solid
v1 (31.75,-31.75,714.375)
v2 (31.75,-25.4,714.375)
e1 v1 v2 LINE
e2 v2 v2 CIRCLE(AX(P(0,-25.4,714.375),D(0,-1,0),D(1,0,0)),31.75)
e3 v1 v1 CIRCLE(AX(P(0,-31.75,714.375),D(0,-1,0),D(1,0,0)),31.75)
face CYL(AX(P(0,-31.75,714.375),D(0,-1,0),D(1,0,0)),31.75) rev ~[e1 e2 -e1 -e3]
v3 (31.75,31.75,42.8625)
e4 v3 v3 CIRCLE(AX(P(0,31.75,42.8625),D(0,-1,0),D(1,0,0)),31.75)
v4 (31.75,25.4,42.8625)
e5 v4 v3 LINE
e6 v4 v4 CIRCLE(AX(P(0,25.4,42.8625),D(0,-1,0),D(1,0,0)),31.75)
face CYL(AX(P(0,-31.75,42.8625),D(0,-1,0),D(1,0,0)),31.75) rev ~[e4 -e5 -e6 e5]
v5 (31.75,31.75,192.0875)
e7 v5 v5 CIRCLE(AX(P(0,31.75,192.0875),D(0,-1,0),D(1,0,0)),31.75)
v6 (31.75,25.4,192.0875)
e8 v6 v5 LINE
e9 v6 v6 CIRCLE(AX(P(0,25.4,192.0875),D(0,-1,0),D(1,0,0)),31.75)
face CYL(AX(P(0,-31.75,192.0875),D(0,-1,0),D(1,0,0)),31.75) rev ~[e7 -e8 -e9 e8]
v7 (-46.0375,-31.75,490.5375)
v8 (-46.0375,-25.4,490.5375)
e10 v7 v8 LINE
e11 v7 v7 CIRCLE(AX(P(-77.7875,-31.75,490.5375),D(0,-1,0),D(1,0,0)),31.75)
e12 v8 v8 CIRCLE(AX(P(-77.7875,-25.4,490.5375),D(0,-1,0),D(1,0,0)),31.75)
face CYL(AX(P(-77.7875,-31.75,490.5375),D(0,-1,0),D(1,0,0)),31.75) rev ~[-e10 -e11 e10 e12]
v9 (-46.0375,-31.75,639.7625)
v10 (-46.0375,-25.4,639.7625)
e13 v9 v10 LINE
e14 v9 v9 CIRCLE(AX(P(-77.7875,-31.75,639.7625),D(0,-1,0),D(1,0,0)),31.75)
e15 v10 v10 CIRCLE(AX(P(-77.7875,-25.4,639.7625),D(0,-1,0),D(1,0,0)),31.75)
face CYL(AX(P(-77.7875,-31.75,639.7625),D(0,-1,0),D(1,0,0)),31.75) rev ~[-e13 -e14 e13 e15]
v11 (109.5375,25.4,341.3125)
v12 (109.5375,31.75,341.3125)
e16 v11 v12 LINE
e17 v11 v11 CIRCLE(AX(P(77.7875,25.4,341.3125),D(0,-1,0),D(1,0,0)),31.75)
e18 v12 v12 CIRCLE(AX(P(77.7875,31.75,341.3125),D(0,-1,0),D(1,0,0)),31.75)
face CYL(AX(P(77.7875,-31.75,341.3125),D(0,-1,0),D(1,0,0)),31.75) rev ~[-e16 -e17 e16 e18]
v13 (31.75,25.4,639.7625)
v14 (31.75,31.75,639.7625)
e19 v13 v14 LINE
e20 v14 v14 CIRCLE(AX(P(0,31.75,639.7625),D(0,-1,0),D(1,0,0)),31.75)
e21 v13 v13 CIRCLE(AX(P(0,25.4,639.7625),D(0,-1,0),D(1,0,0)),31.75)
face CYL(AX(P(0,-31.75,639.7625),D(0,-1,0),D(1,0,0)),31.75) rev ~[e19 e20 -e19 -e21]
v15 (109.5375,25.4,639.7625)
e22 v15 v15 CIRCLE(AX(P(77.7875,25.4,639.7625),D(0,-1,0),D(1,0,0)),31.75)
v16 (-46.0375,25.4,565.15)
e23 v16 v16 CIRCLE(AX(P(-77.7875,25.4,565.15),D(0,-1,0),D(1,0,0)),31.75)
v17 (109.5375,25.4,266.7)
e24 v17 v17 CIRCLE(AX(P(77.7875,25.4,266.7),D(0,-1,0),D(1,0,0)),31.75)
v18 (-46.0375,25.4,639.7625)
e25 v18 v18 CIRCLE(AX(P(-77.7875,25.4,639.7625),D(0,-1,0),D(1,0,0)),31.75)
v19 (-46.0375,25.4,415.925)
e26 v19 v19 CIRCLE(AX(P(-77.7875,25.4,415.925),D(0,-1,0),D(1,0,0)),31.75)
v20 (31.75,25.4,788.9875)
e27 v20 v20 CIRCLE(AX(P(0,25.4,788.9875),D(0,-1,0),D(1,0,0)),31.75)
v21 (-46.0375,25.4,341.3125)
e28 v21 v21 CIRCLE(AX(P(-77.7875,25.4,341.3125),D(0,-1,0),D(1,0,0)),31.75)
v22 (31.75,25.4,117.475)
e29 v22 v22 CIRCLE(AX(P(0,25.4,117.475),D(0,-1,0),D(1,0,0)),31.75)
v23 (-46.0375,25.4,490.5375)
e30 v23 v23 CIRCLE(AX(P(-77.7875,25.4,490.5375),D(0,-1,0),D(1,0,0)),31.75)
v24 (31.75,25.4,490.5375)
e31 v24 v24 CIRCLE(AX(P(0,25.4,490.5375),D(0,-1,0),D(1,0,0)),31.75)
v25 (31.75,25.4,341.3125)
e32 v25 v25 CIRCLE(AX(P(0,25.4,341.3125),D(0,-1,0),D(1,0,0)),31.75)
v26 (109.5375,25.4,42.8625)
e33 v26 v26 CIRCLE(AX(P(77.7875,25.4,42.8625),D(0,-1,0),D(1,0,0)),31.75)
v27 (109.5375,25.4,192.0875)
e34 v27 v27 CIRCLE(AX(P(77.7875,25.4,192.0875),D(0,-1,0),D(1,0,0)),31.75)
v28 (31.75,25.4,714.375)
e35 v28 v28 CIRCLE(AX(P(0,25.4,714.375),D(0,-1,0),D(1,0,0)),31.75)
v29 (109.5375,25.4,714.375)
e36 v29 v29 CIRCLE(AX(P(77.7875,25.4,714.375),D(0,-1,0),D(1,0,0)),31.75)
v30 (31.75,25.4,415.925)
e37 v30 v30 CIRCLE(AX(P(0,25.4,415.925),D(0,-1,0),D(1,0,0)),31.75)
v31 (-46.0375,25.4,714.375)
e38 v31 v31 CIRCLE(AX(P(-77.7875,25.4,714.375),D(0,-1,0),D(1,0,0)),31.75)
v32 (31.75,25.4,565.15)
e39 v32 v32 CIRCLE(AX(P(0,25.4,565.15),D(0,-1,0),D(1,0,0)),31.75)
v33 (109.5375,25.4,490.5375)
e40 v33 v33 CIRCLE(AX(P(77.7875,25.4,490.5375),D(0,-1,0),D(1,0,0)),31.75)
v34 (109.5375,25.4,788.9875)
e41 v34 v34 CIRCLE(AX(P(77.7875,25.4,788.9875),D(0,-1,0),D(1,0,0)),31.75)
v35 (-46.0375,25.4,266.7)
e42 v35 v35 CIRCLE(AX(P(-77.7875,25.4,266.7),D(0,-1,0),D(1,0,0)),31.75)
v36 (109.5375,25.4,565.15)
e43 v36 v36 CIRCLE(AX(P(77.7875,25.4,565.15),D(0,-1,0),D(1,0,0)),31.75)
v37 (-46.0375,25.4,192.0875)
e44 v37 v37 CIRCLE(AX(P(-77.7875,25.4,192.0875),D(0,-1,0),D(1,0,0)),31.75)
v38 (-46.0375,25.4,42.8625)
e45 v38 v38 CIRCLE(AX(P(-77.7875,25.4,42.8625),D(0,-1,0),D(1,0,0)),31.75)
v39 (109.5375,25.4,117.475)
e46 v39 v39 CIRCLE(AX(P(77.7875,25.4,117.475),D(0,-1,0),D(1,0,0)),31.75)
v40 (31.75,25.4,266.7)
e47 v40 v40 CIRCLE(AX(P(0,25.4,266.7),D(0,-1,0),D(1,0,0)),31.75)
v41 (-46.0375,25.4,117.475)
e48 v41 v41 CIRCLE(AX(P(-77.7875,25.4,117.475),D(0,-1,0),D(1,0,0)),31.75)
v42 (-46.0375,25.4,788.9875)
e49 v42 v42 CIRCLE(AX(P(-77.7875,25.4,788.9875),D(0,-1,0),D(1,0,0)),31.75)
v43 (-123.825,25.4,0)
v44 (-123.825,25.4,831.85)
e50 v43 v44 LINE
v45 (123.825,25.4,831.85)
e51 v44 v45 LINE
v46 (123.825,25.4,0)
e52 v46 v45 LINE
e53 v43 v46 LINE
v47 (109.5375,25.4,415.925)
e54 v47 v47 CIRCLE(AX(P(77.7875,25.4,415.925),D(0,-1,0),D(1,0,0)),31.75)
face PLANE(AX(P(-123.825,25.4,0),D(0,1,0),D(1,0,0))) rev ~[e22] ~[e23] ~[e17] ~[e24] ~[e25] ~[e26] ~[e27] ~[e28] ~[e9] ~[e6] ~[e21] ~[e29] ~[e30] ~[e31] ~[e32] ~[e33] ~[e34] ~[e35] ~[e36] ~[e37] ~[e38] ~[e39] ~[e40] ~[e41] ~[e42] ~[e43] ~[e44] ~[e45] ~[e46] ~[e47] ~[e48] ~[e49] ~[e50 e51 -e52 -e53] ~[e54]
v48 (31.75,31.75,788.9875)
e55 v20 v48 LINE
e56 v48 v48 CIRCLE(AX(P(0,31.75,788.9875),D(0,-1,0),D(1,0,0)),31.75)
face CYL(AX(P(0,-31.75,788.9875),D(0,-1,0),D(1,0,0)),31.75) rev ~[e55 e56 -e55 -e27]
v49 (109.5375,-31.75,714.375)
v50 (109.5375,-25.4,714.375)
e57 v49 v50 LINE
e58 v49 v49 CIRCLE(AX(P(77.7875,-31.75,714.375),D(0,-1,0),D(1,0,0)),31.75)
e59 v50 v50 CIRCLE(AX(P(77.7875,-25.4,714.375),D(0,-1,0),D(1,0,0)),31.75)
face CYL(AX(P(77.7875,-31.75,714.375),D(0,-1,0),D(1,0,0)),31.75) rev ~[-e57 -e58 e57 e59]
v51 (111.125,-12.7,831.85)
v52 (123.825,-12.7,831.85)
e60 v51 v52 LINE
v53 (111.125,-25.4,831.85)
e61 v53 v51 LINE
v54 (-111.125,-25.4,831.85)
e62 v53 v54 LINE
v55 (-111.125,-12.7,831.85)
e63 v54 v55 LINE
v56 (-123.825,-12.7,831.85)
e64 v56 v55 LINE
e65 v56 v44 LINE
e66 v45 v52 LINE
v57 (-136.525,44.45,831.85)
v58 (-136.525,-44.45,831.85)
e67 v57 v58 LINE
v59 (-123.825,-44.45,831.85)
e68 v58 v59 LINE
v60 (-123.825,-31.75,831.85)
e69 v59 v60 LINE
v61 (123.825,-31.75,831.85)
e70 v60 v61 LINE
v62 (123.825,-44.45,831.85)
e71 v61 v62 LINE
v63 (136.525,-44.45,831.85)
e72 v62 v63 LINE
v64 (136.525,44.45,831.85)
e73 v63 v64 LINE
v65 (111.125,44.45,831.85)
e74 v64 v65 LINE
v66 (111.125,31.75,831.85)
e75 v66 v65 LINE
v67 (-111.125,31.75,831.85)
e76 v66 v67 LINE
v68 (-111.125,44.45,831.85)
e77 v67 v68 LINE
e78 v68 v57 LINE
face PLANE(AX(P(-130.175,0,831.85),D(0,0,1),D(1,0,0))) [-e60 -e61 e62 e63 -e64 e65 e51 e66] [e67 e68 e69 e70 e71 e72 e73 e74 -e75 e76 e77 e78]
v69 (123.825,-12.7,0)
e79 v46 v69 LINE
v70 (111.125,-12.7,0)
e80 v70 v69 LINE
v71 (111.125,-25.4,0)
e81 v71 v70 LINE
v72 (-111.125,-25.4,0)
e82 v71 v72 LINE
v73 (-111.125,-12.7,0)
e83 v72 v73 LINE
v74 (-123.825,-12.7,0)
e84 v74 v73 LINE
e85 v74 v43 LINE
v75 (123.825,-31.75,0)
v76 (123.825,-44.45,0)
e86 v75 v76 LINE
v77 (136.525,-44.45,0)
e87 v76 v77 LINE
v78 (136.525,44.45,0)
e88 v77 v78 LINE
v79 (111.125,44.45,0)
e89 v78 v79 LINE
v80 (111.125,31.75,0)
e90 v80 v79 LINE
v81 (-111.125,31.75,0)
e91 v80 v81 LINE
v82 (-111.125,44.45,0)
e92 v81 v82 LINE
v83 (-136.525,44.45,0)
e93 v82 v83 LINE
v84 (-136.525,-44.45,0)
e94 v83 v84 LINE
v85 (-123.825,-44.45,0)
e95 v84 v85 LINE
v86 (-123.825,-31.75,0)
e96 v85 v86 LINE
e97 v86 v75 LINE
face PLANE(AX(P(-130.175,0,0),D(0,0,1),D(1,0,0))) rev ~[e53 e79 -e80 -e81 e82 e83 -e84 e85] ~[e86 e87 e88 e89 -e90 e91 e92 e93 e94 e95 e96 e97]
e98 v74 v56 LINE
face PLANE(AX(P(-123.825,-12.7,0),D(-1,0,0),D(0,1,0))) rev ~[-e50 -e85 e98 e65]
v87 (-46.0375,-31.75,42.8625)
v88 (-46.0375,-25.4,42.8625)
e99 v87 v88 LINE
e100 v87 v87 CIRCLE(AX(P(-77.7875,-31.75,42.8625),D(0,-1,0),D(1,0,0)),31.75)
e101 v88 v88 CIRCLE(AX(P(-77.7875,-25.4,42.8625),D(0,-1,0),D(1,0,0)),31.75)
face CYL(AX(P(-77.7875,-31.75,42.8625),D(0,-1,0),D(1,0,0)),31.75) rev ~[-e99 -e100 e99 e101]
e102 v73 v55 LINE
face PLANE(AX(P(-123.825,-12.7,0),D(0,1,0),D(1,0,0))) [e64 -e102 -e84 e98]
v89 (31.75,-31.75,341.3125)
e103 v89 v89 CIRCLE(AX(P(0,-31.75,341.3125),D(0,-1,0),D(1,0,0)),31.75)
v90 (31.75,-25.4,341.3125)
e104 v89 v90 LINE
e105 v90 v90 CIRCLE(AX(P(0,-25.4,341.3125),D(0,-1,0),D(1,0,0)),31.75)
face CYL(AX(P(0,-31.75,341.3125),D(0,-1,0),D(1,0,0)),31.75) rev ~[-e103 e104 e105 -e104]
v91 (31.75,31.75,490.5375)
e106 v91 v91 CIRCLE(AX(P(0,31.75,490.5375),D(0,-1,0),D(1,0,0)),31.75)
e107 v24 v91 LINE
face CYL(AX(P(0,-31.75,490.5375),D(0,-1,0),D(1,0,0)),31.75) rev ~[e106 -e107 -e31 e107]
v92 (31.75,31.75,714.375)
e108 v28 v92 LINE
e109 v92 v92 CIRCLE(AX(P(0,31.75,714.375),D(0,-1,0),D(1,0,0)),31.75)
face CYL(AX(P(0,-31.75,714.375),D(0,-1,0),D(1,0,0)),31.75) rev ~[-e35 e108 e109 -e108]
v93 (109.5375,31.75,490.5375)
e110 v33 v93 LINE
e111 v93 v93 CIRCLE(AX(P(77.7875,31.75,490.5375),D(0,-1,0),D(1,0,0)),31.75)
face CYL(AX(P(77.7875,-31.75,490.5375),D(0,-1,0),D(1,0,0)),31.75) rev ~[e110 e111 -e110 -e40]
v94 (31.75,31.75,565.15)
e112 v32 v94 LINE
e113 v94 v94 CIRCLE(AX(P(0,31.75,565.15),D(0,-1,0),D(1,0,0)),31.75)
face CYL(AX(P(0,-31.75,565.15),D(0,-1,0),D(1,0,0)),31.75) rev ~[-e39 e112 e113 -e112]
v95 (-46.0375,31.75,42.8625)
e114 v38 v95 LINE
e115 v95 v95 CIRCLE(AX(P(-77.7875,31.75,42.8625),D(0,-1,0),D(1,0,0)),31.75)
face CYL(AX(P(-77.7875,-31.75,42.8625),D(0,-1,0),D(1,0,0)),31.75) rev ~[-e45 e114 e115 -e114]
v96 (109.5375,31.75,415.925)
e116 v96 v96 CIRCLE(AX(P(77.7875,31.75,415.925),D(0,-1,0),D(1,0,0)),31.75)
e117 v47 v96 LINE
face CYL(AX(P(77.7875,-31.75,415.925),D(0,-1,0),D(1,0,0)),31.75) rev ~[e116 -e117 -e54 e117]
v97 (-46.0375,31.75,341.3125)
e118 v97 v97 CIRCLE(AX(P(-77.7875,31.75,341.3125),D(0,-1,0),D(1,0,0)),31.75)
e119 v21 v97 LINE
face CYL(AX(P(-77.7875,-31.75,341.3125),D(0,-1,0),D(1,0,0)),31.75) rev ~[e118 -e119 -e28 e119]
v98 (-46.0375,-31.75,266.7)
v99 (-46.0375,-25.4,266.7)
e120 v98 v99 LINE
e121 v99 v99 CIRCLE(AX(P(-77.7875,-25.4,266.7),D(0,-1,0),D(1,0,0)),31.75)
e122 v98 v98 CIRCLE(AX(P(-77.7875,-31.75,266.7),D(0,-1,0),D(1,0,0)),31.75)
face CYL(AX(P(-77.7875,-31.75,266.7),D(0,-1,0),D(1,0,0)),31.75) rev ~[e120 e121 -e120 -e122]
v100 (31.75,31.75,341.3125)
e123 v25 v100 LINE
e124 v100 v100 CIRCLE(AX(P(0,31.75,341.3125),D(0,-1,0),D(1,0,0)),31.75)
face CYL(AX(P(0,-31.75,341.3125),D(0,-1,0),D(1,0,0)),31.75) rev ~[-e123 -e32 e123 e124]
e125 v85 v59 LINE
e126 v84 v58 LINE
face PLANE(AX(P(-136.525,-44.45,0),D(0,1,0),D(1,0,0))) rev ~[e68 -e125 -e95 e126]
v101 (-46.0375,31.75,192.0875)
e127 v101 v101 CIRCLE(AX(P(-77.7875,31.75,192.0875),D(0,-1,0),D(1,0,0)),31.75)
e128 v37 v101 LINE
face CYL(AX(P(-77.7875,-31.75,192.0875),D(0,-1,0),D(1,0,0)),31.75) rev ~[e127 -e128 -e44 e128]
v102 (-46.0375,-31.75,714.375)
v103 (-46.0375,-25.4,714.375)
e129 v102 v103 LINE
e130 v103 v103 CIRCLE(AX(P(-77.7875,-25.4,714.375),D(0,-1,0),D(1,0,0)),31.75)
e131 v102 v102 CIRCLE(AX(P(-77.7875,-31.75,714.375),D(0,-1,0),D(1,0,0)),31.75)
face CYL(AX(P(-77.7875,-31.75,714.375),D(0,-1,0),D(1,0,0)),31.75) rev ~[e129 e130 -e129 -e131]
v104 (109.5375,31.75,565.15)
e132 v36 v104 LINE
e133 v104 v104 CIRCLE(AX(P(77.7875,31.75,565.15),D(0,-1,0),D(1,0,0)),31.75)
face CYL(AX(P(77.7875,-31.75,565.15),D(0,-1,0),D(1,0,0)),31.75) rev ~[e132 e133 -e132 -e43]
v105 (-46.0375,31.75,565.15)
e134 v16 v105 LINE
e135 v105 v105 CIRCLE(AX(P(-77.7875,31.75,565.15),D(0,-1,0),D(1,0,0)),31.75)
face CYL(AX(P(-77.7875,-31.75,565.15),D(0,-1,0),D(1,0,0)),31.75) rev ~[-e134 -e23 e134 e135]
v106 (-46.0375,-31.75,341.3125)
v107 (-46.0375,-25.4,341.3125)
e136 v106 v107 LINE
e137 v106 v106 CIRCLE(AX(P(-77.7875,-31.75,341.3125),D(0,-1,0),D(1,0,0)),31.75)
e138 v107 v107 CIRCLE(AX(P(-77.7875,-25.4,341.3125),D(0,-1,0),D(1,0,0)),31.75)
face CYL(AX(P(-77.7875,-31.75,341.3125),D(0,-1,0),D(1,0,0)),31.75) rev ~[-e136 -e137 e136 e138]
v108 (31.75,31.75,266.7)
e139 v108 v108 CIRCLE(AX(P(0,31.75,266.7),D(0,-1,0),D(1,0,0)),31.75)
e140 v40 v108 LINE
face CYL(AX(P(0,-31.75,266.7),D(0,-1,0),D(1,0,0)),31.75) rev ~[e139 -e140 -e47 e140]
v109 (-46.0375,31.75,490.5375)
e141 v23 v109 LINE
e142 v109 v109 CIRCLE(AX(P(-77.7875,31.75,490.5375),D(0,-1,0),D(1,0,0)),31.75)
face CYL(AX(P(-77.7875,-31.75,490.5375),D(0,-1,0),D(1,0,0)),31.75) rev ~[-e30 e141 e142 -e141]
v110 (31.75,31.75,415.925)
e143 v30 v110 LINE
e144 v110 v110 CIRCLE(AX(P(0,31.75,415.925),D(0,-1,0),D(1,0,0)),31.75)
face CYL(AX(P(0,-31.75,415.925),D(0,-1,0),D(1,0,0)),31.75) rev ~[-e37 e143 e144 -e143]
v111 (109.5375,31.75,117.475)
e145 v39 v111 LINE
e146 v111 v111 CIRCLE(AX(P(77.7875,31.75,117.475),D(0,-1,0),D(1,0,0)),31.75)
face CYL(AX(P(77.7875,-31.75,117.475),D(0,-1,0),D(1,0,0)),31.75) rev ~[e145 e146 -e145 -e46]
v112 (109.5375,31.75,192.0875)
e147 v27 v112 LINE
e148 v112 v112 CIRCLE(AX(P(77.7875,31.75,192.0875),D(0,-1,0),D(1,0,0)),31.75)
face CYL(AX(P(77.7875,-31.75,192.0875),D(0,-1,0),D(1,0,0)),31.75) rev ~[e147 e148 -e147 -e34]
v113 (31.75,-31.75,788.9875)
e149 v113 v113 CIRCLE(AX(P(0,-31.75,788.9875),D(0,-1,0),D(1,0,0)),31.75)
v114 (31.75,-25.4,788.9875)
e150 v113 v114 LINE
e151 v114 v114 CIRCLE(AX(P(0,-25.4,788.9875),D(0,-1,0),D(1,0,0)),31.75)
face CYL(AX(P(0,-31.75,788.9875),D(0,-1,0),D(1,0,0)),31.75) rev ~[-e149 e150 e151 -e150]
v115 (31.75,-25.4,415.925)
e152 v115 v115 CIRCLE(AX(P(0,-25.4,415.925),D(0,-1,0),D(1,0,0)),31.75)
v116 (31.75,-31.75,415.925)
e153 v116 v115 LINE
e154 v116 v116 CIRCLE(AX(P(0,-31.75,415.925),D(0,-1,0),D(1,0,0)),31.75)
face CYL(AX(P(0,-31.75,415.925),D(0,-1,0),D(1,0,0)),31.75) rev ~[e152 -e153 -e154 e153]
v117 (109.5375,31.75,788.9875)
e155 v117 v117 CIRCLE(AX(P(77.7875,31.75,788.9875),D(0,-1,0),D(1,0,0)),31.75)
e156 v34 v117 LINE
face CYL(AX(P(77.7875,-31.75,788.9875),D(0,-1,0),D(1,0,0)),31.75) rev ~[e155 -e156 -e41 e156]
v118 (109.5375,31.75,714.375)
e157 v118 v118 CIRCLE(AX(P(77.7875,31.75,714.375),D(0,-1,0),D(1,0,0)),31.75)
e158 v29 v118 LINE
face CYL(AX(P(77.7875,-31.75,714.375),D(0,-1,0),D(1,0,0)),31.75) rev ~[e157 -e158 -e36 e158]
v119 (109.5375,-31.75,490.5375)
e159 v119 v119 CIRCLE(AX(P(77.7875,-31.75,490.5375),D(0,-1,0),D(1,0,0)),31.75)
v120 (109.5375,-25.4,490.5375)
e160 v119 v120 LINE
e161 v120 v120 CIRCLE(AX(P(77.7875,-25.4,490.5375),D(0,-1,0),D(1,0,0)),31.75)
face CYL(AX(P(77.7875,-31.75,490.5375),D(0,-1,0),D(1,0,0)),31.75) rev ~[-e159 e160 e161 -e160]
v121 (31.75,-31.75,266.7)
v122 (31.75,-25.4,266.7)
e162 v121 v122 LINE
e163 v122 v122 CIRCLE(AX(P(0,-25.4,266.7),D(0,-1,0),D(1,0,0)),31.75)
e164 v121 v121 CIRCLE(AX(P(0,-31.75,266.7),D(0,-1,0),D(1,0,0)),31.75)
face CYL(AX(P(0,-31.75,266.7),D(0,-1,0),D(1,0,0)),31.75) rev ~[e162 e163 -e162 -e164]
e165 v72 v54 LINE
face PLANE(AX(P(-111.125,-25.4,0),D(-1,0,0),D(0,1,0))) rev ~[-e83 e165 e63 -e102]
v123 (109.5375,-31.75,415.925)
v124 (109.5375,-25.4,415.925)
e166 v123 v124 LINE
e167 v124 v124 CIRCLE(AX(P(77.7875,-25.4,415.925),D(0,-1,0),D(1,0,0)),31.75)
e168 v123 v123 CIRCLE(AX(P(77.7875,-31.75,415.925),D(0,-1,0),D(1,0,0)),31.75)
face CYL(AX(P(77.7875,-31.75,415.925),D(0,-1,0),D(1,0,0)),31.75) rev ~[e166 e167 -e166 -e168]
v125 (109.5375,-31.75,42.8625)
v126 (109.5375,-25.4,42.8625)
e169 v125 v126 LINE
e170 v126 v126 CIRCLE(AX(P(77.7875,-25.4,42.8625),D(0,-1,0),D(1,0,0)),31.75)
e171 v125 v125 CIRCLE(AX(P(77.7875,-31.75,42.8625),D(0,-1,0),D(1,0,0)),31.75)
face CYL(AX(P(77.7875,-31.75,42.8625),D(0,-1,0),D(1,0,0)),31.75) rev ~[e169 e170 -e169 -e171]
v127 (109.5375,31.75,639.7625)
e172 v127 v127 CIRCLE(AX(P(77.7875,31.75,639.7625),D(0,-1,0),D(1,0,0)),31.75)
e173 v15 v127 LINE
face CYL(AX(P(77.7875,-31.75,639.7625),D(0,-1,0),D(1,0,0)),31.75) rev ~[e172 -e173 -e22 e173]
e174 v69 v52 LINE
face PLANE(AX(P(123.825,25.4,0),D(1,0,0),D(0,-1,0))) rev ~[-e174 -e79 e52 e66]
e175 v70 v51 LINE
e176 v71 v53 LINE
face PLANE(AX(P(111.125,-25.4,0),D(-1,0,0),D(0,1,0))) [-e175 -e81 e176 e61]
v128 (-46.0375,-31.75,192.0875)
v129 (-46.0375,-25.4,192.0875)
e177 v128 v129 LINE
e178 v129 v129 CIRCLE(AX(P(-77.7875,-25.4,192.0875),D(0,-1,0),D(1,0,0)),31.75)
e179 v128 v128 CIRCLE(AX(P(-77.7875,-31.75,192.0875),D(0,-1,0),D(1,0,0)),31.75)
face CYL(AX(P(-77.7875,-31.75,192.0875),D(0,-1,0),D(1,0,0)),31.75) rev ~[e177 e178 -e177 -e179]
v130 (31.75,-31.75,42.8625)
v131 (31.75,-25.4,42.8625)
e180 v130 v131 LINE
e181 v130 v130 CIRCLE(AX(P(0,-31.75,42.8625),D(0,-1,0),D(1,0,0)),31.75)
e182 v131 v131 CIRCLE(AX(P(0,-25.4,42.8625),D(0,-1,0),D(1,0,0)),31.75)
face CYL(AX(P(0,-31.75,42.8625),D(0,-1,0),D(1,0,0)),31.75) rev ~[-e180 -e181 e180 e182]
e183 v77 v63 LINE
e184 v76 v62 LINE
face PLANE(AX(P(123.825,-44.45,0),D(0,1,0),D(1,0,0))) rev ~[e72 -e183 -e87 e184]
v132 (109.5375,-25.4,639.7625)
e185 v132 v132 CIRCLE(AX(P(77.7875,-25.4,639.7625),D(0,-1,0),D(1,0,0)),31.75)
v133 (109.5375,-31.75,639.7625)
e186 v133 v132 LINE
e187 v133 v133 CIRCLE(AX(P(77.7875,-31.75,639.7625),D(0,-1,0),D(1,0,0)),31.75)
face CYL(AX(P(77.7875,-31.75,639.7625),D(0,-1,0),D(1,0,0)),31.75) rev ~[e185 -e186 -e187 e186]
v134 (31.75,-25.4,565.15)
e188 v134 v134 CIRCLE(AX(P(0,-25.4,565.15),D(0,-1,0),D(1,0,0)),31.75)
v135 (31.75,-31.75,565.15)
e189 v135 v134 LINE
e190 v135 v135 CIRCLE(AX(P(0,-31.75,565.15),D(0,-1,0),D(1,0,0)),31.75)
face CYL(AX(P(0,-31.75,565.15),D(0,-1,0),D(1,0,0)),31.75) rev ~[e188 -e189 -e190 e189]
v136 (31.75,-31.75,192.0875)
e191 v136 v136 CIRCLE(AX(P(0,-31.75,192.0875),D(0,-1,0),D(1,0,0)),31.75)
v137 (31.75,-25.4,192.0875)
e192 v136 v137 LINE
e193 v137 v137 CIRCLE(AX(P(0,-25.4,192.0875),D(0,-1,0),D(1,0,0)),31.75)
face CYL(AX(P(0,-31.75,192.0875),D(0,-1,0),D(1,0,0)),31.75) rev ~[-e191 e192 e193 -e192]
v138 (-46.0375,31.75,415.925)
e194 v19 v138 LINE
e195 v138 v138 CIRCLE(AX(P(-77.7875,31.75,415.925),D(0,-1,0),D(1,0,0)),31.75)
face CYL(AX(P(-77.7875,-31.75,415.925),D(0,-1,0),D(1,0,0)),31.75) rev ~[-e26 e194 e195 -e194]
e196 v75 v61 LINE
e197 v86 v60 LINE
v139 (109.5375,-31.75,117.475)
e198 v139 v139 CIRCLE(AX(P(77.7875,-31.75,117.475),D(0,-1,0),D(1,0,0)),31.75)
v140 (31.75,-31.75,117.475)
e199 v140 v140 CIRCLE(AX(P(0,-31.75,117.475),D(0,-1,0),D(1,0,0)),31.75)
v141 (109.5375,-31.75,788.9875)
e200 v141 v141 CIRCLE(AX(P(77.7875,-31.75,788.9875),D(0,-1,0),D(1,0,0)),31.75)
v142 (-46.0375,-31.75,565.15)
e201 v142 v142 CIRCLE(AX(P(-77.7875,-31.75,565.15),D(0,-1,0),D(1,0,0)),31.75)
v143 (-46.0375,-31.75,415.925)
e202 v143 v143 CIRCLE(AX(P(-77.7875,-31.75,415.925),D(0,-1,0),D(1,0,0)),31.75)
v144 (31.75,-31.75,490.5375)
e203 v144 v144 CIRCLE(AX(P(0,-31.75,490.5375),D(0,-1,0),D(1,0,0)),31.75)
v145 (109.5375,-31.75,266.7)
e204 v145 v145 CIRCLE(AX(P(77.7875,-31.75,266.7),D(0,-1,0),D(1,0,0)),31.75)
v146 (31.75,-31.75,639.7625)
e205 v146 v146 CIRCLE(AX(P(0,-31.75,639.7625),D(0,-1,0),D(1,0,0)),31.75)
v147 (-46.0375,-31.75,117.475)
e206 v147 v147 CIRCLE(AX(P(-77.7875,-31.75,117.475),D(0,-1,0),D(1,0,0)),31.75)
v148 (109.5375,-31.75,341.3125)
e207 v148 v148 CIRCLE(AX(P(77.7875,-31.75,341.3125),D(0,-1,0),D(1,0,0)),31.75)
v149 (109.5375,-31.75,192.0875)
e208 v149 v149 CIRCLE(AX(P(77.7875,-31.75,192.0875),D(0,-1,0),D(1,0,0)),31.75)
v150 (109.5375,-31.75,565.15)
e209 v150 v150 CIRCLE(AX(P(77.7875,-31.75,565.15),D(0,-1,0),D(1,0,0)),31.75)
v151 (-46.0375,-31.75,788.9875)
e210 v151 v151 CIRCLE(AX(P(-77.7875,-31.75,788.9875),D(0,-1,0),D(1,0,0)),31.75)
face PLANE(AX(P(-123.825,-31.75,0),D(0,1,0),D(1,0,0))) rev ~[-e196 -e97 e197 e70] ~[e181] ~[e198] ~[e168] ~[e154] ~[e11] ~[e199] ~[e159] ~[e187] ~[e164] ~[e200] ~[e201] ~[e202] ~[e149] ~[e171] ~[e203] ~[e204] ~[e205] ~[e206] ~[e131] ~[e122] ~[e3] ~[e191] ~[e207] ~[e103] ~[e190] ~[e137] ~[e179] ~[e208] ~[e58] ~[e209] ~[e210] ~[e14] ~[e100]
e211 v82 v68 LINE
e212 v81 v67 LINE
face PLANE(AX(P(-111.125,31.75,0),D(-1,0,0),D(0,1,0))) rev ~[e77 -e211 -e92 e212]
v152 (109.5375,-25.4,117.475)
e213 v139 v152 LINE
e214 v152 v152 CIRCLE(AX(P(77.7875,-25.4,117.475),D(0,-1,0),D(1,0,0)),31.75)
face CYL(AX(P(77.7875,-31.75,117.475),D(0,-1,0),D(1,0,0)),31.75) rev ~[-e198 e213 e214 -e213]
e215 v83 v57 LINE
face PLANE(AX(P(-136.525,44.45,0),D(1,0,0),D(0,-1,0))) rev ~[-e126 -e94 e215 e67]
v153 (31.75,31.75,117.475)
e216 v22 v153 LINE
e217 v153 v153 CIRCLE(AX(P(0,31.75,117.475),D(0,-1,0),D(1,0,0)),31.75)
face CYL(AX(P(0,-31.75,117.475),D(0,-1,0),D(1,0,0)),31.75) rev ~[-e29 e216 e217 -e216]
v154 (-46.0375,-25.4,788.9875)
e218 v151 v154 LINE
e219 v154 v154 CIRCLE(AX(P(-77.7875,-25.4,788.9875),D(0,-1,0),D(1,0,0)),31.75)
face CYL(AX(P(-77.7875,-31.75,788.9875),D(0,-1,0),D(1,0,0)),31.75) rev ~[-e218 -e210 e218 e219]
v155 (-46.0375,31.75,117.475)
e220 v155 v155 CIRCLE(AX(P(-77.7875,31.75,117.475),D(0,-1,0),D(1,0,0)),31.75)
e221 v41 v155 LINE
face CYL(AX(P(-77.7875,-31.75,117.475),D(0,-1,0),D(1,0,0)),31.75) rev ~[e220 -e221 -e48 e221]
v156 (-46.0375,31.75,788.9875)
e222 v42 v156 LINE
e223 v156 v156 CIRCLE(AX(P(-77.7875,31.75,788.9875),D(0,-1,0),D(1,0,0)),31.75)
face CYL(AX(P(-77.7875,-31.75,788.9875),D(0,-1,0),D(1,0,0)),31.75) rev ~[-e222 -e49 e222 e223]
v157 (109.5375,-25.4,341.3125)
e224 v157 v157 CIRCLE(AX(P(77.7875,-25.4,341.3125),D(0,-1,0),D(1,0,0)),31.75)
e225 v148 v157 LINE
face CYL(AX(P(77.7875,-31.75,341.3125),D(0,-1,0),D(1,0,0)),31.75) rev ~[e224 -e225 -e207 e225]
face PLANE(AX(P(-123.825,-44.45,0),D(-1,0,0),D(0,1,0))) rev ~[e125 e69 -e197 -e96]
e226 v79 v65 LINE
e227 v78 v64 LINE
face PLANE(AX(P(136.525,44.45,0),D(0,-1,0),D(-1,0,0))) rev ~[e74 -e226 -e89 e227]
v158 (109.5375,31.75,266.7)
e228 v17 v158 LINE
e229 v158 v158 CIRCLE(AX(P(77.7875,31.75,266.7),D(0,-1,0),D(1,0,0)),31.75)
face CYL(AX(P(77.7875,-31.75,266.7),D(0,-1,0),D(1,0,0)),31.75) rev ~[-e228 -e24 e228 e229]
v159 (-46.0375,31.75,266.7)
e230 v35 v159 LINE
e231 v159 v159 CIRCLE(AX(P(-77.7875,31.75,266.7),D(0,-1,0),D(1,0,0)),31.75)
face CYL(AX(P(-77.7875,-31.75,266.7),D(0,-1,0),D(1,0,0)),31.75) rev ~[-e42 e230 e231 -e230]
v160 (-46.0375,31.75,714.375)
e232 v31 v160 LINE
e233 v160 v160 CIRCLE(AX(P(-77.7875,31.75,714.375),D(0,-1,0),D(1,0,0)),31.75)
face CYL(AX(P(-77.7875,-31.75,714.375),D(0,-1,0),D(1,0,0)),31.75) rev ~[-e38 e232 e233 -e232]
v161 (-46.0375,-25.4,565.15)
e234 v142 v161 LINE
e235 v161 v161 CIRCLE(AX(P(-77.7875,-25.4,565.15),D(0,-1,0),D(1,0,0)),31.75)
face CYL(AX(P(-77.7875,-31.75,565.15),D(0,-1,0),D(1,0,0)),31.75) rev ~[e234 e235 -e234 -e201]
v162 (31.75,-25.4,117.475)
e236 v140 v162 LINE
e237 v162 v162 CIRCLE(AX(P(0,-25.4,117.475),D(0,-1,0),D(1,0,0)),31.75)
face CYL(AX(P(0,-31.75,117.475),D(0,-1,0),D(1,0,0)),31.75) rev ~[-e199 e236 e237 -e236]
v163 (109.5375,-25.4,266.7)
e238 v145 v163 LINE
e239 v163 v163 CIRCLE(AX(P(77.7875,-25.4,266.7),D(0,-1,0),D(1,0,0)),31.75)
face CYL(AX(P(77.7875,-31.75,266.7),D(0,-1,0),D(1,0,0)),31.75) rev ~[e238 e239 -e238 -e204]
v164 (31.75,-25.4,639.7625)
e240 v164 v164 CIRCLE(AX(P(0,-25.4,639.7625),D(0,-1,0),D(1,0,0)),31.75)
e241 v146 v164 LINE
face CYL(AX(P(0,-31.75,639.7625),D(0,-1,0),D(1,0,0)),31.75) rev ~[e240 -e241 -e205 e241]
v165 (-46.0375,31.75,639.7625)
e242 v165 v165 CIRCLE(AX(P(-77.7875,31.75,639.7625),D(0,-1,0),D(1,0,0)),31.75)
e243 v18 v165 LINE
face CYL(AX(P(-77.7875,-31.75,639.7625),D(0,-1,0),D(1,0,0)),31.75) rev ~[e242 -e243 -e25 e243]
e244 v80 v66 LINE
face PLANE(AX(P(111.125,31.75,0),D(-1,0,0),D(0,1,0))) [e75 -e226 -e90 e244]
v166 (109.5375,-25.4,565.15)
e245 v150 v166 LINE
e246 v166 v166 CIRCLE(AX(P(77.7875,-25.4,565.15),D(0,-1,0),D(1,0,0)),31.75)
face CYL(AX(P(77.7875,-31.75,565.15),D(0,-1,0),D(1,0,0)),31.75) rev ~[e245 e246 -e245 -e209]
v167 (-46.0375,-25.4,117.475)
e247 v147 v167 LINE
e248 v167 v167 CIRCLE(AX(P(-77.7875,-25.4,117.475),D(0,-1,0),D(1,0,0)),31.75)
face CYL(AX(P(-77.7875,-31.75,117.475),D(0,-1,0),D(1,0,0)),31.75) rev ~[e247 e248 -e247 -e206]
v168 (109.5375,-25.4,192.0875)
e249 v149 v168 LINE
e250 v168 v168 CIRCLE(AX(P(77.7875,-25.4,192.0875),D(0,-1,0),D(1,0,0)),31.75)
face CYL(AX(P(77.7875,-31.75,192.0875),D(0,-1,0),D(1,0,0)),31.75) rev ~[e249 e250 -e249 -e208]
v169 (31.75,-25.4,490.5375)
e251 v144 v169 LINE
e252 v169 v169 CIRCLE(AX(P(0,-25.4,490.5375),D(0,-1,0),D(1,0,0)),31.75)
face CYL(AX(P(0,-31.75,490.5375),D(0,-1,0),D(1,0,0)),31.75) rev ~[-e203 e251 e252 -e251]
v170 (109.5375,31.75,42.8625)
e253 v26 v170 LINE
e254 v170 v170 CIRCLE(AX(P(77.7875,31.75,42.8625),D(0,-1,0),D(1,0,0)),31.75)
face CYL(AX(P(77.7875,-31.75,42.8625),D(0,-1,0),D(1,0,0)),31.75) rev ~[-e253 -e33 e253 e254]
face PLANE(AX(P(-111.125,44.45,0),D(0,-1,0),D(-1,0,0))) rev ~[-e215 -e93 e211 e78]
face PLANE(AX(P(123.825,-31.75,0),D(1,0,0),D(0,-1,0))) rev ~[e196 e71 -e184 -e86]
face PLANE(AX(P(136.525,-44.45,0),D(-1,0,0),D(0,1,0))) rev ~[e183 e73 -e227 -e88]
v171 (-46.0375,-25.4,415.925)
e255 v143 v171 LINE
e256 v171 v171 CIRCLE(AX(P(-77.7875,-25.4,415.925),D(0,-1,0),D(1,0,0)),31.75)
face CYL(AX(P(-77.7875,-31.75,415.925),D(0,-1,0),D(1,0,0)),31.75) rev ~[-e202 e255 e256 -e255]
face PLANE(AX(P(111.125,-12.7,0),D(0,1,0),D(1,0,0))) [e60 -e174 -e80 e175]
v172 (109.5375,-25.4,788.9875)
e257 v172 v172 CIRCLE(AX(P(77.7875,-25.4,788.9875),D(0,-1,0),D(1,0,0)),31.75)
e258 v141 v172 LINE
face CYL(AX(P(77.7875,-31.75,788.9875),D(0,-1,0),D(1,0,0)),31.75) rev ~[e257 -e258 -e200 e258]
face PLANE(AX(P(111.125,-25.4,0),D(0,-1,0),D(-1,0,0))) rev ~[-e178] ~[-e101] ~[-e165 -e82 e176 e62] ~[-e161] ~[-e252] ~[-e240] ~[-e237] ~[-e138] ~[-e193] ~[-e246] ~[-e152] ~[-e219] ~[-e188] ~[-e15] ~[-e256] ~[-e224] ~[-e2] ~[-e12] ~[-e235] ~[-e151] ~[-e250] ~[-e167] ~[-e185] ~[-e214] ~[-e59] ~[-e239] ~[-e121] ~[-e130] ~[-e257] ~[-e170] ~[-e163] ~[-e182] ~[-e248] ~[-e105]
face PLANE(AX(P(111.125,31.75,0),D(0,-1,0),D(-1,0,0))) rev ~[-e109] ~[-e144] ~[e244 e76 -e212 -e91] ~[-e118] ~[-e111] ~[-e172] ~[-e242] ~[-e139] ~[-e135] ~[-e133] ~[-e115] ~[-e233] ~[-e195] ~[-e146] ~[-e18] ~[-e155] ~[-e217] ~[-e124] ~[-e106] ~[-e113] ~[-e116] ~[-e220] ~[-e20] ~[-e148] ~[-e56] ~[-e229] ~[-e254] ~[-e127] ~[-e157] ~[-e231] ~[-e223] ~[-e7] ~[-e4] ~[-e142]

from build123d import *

# Parameters (mm, degrees)
F0_W     = 12.7
F0_H     = 12.7
F1_DEPTH = 831.85
F2_R     = 31.75
F3_DEPTH = 76.201


with BuildPart() as f1:
    # F0 (on Top) → F1 (new body)
    with BuildSketch(Plane.XY):
        Polygon((-123.825, 44.45), (-136.525, 44.45), (-136.525, -44.45), (-123.825, -44.45), (-123.825, -31.75), (-123.825, -25.4), (-123.825, -12.7), (-123.825, 25.4), (-123.825, 31.75), align=None)
        with Locations((-117.475, 38.1)):
            Rectangle(F0_W, F0_H)
        Polygon((-111.125, 31.75), (-123.825, 31.75), (-123.825, 25.4), (123.825, 25.4), (123.825, 31.75), (111.125, 31.75), align=None)
        with Locations((117.475, 38.1)):
            Rectangle(F0_W, F0_H)
        Polygon((123.825, 31.75), (123.825, 25.4), (123.825, -12.7), (123.825, -25.4), (123.825, -31.75), (123.825, -44.45), (136.525, -44.45), (136.525, 44.45), (123.825, 44.45), align=None)
        with Locations((117.475, -19.05)):
            Rectangle(F0_W, F0_H)
        with Locations((-117.475, -19.05)):
            Rectangle(F0_W, F0_H)
        Polygon((-123.825, -25.4), (-123.825, -31.75), (123.825, -31.75), (123.825, -25.4), (111.125, -25.4), (-111.125, -25.4), align=None)
    extrude(amount=F1_DEPTH)

    # F2 (on face) → F3 (cut, through all)
    with BuildSketch(Plane.XZ.offset(31.75)):
        with Locations((-77.7875, 788.9875)):
            Circle(F2_R)
        with Locations((0, 788.9875)):
            Circle(F2_R)
        with Locations((77.7875, 788.9875)):
            Circle(F2_R)
        with Locations((77.7875, 714.375)):
            Circle(F2_R)
        with Locations((0, 714.375)):
            Circle(F2_R)
        with Locations((-77.7875, 714.375)):
            Circle(F2_R)
        with Locations((-77.7875, 639.7625)):
            Circle(F2_R)
        with Locations((0, 639.7625)):
            Circle(F2_R)
        with Locations((77.7875, 639.7625)):
            Circle(F2_R)
        with Locations((77.7875, 565.15)):
            Circle(F2_R)
        with Locations((0, 565.15)):
            Circle(F2_R)
        with Locations((-77.7875, 565.15)):
            Circle(F2_R)
        with Locations((-77.7875, 490.5375)):
            Circle(F2_R)
        with Locations((0, 490.5375)):
            Circle(F2_R)
        with Locations((77.7875, 490.5375)):
            Circle(F2_R)
        with Locations((77.7875, 415.925)):
            Circle(F2_R)
        with Locations((0, 415.925)):
            Circle(F2_R)
        with Locations((-77.7875, 415.925)):
            Circle(F2_R)
        with Locations((0, 341.3125)):
            Circle(F2_R)
        with Locations((77.7875, 341.3125)):
            Circle(F2_R)
        with Locations((77.7875, 266.7)):
            Circle(F2_R)
        with Locations((0, 266.7)):
            Circle(F2_R)
        with Locations((-77.7875, 266.7)):
            Circle(F2_R)
        with Locations((-77.7875, 341.3125)):
            Circle(F2_R)
        with Locations((-77.7875, 192.0875)):
            Circle(F2_R)
        with Locations((0, 192.0875)):
            Circle(F2_R)
        with Locations((77.7875, 192.0875)):
            Circle(F2_R)
        with Locations((77.7875, 117.475)):
            Circle(F2_R)
        with Locations((0, 117.475)):
            Circle(F2_R)
        with Locations((-77.7875, 117.475)):
            Circle(F2_R)
        with Locations((-77.7875, 42.8625)):
            Circle(F2_R)
        with Locations((0, 42.8625)):
            Circle(F2_R)
        with Locations((77.7875, 42.8625)):
            Circle(F2_R)
    extrude(amount=-F3_DEPTH, mode=Mode.SUBTRACT)


solid = f1.part
